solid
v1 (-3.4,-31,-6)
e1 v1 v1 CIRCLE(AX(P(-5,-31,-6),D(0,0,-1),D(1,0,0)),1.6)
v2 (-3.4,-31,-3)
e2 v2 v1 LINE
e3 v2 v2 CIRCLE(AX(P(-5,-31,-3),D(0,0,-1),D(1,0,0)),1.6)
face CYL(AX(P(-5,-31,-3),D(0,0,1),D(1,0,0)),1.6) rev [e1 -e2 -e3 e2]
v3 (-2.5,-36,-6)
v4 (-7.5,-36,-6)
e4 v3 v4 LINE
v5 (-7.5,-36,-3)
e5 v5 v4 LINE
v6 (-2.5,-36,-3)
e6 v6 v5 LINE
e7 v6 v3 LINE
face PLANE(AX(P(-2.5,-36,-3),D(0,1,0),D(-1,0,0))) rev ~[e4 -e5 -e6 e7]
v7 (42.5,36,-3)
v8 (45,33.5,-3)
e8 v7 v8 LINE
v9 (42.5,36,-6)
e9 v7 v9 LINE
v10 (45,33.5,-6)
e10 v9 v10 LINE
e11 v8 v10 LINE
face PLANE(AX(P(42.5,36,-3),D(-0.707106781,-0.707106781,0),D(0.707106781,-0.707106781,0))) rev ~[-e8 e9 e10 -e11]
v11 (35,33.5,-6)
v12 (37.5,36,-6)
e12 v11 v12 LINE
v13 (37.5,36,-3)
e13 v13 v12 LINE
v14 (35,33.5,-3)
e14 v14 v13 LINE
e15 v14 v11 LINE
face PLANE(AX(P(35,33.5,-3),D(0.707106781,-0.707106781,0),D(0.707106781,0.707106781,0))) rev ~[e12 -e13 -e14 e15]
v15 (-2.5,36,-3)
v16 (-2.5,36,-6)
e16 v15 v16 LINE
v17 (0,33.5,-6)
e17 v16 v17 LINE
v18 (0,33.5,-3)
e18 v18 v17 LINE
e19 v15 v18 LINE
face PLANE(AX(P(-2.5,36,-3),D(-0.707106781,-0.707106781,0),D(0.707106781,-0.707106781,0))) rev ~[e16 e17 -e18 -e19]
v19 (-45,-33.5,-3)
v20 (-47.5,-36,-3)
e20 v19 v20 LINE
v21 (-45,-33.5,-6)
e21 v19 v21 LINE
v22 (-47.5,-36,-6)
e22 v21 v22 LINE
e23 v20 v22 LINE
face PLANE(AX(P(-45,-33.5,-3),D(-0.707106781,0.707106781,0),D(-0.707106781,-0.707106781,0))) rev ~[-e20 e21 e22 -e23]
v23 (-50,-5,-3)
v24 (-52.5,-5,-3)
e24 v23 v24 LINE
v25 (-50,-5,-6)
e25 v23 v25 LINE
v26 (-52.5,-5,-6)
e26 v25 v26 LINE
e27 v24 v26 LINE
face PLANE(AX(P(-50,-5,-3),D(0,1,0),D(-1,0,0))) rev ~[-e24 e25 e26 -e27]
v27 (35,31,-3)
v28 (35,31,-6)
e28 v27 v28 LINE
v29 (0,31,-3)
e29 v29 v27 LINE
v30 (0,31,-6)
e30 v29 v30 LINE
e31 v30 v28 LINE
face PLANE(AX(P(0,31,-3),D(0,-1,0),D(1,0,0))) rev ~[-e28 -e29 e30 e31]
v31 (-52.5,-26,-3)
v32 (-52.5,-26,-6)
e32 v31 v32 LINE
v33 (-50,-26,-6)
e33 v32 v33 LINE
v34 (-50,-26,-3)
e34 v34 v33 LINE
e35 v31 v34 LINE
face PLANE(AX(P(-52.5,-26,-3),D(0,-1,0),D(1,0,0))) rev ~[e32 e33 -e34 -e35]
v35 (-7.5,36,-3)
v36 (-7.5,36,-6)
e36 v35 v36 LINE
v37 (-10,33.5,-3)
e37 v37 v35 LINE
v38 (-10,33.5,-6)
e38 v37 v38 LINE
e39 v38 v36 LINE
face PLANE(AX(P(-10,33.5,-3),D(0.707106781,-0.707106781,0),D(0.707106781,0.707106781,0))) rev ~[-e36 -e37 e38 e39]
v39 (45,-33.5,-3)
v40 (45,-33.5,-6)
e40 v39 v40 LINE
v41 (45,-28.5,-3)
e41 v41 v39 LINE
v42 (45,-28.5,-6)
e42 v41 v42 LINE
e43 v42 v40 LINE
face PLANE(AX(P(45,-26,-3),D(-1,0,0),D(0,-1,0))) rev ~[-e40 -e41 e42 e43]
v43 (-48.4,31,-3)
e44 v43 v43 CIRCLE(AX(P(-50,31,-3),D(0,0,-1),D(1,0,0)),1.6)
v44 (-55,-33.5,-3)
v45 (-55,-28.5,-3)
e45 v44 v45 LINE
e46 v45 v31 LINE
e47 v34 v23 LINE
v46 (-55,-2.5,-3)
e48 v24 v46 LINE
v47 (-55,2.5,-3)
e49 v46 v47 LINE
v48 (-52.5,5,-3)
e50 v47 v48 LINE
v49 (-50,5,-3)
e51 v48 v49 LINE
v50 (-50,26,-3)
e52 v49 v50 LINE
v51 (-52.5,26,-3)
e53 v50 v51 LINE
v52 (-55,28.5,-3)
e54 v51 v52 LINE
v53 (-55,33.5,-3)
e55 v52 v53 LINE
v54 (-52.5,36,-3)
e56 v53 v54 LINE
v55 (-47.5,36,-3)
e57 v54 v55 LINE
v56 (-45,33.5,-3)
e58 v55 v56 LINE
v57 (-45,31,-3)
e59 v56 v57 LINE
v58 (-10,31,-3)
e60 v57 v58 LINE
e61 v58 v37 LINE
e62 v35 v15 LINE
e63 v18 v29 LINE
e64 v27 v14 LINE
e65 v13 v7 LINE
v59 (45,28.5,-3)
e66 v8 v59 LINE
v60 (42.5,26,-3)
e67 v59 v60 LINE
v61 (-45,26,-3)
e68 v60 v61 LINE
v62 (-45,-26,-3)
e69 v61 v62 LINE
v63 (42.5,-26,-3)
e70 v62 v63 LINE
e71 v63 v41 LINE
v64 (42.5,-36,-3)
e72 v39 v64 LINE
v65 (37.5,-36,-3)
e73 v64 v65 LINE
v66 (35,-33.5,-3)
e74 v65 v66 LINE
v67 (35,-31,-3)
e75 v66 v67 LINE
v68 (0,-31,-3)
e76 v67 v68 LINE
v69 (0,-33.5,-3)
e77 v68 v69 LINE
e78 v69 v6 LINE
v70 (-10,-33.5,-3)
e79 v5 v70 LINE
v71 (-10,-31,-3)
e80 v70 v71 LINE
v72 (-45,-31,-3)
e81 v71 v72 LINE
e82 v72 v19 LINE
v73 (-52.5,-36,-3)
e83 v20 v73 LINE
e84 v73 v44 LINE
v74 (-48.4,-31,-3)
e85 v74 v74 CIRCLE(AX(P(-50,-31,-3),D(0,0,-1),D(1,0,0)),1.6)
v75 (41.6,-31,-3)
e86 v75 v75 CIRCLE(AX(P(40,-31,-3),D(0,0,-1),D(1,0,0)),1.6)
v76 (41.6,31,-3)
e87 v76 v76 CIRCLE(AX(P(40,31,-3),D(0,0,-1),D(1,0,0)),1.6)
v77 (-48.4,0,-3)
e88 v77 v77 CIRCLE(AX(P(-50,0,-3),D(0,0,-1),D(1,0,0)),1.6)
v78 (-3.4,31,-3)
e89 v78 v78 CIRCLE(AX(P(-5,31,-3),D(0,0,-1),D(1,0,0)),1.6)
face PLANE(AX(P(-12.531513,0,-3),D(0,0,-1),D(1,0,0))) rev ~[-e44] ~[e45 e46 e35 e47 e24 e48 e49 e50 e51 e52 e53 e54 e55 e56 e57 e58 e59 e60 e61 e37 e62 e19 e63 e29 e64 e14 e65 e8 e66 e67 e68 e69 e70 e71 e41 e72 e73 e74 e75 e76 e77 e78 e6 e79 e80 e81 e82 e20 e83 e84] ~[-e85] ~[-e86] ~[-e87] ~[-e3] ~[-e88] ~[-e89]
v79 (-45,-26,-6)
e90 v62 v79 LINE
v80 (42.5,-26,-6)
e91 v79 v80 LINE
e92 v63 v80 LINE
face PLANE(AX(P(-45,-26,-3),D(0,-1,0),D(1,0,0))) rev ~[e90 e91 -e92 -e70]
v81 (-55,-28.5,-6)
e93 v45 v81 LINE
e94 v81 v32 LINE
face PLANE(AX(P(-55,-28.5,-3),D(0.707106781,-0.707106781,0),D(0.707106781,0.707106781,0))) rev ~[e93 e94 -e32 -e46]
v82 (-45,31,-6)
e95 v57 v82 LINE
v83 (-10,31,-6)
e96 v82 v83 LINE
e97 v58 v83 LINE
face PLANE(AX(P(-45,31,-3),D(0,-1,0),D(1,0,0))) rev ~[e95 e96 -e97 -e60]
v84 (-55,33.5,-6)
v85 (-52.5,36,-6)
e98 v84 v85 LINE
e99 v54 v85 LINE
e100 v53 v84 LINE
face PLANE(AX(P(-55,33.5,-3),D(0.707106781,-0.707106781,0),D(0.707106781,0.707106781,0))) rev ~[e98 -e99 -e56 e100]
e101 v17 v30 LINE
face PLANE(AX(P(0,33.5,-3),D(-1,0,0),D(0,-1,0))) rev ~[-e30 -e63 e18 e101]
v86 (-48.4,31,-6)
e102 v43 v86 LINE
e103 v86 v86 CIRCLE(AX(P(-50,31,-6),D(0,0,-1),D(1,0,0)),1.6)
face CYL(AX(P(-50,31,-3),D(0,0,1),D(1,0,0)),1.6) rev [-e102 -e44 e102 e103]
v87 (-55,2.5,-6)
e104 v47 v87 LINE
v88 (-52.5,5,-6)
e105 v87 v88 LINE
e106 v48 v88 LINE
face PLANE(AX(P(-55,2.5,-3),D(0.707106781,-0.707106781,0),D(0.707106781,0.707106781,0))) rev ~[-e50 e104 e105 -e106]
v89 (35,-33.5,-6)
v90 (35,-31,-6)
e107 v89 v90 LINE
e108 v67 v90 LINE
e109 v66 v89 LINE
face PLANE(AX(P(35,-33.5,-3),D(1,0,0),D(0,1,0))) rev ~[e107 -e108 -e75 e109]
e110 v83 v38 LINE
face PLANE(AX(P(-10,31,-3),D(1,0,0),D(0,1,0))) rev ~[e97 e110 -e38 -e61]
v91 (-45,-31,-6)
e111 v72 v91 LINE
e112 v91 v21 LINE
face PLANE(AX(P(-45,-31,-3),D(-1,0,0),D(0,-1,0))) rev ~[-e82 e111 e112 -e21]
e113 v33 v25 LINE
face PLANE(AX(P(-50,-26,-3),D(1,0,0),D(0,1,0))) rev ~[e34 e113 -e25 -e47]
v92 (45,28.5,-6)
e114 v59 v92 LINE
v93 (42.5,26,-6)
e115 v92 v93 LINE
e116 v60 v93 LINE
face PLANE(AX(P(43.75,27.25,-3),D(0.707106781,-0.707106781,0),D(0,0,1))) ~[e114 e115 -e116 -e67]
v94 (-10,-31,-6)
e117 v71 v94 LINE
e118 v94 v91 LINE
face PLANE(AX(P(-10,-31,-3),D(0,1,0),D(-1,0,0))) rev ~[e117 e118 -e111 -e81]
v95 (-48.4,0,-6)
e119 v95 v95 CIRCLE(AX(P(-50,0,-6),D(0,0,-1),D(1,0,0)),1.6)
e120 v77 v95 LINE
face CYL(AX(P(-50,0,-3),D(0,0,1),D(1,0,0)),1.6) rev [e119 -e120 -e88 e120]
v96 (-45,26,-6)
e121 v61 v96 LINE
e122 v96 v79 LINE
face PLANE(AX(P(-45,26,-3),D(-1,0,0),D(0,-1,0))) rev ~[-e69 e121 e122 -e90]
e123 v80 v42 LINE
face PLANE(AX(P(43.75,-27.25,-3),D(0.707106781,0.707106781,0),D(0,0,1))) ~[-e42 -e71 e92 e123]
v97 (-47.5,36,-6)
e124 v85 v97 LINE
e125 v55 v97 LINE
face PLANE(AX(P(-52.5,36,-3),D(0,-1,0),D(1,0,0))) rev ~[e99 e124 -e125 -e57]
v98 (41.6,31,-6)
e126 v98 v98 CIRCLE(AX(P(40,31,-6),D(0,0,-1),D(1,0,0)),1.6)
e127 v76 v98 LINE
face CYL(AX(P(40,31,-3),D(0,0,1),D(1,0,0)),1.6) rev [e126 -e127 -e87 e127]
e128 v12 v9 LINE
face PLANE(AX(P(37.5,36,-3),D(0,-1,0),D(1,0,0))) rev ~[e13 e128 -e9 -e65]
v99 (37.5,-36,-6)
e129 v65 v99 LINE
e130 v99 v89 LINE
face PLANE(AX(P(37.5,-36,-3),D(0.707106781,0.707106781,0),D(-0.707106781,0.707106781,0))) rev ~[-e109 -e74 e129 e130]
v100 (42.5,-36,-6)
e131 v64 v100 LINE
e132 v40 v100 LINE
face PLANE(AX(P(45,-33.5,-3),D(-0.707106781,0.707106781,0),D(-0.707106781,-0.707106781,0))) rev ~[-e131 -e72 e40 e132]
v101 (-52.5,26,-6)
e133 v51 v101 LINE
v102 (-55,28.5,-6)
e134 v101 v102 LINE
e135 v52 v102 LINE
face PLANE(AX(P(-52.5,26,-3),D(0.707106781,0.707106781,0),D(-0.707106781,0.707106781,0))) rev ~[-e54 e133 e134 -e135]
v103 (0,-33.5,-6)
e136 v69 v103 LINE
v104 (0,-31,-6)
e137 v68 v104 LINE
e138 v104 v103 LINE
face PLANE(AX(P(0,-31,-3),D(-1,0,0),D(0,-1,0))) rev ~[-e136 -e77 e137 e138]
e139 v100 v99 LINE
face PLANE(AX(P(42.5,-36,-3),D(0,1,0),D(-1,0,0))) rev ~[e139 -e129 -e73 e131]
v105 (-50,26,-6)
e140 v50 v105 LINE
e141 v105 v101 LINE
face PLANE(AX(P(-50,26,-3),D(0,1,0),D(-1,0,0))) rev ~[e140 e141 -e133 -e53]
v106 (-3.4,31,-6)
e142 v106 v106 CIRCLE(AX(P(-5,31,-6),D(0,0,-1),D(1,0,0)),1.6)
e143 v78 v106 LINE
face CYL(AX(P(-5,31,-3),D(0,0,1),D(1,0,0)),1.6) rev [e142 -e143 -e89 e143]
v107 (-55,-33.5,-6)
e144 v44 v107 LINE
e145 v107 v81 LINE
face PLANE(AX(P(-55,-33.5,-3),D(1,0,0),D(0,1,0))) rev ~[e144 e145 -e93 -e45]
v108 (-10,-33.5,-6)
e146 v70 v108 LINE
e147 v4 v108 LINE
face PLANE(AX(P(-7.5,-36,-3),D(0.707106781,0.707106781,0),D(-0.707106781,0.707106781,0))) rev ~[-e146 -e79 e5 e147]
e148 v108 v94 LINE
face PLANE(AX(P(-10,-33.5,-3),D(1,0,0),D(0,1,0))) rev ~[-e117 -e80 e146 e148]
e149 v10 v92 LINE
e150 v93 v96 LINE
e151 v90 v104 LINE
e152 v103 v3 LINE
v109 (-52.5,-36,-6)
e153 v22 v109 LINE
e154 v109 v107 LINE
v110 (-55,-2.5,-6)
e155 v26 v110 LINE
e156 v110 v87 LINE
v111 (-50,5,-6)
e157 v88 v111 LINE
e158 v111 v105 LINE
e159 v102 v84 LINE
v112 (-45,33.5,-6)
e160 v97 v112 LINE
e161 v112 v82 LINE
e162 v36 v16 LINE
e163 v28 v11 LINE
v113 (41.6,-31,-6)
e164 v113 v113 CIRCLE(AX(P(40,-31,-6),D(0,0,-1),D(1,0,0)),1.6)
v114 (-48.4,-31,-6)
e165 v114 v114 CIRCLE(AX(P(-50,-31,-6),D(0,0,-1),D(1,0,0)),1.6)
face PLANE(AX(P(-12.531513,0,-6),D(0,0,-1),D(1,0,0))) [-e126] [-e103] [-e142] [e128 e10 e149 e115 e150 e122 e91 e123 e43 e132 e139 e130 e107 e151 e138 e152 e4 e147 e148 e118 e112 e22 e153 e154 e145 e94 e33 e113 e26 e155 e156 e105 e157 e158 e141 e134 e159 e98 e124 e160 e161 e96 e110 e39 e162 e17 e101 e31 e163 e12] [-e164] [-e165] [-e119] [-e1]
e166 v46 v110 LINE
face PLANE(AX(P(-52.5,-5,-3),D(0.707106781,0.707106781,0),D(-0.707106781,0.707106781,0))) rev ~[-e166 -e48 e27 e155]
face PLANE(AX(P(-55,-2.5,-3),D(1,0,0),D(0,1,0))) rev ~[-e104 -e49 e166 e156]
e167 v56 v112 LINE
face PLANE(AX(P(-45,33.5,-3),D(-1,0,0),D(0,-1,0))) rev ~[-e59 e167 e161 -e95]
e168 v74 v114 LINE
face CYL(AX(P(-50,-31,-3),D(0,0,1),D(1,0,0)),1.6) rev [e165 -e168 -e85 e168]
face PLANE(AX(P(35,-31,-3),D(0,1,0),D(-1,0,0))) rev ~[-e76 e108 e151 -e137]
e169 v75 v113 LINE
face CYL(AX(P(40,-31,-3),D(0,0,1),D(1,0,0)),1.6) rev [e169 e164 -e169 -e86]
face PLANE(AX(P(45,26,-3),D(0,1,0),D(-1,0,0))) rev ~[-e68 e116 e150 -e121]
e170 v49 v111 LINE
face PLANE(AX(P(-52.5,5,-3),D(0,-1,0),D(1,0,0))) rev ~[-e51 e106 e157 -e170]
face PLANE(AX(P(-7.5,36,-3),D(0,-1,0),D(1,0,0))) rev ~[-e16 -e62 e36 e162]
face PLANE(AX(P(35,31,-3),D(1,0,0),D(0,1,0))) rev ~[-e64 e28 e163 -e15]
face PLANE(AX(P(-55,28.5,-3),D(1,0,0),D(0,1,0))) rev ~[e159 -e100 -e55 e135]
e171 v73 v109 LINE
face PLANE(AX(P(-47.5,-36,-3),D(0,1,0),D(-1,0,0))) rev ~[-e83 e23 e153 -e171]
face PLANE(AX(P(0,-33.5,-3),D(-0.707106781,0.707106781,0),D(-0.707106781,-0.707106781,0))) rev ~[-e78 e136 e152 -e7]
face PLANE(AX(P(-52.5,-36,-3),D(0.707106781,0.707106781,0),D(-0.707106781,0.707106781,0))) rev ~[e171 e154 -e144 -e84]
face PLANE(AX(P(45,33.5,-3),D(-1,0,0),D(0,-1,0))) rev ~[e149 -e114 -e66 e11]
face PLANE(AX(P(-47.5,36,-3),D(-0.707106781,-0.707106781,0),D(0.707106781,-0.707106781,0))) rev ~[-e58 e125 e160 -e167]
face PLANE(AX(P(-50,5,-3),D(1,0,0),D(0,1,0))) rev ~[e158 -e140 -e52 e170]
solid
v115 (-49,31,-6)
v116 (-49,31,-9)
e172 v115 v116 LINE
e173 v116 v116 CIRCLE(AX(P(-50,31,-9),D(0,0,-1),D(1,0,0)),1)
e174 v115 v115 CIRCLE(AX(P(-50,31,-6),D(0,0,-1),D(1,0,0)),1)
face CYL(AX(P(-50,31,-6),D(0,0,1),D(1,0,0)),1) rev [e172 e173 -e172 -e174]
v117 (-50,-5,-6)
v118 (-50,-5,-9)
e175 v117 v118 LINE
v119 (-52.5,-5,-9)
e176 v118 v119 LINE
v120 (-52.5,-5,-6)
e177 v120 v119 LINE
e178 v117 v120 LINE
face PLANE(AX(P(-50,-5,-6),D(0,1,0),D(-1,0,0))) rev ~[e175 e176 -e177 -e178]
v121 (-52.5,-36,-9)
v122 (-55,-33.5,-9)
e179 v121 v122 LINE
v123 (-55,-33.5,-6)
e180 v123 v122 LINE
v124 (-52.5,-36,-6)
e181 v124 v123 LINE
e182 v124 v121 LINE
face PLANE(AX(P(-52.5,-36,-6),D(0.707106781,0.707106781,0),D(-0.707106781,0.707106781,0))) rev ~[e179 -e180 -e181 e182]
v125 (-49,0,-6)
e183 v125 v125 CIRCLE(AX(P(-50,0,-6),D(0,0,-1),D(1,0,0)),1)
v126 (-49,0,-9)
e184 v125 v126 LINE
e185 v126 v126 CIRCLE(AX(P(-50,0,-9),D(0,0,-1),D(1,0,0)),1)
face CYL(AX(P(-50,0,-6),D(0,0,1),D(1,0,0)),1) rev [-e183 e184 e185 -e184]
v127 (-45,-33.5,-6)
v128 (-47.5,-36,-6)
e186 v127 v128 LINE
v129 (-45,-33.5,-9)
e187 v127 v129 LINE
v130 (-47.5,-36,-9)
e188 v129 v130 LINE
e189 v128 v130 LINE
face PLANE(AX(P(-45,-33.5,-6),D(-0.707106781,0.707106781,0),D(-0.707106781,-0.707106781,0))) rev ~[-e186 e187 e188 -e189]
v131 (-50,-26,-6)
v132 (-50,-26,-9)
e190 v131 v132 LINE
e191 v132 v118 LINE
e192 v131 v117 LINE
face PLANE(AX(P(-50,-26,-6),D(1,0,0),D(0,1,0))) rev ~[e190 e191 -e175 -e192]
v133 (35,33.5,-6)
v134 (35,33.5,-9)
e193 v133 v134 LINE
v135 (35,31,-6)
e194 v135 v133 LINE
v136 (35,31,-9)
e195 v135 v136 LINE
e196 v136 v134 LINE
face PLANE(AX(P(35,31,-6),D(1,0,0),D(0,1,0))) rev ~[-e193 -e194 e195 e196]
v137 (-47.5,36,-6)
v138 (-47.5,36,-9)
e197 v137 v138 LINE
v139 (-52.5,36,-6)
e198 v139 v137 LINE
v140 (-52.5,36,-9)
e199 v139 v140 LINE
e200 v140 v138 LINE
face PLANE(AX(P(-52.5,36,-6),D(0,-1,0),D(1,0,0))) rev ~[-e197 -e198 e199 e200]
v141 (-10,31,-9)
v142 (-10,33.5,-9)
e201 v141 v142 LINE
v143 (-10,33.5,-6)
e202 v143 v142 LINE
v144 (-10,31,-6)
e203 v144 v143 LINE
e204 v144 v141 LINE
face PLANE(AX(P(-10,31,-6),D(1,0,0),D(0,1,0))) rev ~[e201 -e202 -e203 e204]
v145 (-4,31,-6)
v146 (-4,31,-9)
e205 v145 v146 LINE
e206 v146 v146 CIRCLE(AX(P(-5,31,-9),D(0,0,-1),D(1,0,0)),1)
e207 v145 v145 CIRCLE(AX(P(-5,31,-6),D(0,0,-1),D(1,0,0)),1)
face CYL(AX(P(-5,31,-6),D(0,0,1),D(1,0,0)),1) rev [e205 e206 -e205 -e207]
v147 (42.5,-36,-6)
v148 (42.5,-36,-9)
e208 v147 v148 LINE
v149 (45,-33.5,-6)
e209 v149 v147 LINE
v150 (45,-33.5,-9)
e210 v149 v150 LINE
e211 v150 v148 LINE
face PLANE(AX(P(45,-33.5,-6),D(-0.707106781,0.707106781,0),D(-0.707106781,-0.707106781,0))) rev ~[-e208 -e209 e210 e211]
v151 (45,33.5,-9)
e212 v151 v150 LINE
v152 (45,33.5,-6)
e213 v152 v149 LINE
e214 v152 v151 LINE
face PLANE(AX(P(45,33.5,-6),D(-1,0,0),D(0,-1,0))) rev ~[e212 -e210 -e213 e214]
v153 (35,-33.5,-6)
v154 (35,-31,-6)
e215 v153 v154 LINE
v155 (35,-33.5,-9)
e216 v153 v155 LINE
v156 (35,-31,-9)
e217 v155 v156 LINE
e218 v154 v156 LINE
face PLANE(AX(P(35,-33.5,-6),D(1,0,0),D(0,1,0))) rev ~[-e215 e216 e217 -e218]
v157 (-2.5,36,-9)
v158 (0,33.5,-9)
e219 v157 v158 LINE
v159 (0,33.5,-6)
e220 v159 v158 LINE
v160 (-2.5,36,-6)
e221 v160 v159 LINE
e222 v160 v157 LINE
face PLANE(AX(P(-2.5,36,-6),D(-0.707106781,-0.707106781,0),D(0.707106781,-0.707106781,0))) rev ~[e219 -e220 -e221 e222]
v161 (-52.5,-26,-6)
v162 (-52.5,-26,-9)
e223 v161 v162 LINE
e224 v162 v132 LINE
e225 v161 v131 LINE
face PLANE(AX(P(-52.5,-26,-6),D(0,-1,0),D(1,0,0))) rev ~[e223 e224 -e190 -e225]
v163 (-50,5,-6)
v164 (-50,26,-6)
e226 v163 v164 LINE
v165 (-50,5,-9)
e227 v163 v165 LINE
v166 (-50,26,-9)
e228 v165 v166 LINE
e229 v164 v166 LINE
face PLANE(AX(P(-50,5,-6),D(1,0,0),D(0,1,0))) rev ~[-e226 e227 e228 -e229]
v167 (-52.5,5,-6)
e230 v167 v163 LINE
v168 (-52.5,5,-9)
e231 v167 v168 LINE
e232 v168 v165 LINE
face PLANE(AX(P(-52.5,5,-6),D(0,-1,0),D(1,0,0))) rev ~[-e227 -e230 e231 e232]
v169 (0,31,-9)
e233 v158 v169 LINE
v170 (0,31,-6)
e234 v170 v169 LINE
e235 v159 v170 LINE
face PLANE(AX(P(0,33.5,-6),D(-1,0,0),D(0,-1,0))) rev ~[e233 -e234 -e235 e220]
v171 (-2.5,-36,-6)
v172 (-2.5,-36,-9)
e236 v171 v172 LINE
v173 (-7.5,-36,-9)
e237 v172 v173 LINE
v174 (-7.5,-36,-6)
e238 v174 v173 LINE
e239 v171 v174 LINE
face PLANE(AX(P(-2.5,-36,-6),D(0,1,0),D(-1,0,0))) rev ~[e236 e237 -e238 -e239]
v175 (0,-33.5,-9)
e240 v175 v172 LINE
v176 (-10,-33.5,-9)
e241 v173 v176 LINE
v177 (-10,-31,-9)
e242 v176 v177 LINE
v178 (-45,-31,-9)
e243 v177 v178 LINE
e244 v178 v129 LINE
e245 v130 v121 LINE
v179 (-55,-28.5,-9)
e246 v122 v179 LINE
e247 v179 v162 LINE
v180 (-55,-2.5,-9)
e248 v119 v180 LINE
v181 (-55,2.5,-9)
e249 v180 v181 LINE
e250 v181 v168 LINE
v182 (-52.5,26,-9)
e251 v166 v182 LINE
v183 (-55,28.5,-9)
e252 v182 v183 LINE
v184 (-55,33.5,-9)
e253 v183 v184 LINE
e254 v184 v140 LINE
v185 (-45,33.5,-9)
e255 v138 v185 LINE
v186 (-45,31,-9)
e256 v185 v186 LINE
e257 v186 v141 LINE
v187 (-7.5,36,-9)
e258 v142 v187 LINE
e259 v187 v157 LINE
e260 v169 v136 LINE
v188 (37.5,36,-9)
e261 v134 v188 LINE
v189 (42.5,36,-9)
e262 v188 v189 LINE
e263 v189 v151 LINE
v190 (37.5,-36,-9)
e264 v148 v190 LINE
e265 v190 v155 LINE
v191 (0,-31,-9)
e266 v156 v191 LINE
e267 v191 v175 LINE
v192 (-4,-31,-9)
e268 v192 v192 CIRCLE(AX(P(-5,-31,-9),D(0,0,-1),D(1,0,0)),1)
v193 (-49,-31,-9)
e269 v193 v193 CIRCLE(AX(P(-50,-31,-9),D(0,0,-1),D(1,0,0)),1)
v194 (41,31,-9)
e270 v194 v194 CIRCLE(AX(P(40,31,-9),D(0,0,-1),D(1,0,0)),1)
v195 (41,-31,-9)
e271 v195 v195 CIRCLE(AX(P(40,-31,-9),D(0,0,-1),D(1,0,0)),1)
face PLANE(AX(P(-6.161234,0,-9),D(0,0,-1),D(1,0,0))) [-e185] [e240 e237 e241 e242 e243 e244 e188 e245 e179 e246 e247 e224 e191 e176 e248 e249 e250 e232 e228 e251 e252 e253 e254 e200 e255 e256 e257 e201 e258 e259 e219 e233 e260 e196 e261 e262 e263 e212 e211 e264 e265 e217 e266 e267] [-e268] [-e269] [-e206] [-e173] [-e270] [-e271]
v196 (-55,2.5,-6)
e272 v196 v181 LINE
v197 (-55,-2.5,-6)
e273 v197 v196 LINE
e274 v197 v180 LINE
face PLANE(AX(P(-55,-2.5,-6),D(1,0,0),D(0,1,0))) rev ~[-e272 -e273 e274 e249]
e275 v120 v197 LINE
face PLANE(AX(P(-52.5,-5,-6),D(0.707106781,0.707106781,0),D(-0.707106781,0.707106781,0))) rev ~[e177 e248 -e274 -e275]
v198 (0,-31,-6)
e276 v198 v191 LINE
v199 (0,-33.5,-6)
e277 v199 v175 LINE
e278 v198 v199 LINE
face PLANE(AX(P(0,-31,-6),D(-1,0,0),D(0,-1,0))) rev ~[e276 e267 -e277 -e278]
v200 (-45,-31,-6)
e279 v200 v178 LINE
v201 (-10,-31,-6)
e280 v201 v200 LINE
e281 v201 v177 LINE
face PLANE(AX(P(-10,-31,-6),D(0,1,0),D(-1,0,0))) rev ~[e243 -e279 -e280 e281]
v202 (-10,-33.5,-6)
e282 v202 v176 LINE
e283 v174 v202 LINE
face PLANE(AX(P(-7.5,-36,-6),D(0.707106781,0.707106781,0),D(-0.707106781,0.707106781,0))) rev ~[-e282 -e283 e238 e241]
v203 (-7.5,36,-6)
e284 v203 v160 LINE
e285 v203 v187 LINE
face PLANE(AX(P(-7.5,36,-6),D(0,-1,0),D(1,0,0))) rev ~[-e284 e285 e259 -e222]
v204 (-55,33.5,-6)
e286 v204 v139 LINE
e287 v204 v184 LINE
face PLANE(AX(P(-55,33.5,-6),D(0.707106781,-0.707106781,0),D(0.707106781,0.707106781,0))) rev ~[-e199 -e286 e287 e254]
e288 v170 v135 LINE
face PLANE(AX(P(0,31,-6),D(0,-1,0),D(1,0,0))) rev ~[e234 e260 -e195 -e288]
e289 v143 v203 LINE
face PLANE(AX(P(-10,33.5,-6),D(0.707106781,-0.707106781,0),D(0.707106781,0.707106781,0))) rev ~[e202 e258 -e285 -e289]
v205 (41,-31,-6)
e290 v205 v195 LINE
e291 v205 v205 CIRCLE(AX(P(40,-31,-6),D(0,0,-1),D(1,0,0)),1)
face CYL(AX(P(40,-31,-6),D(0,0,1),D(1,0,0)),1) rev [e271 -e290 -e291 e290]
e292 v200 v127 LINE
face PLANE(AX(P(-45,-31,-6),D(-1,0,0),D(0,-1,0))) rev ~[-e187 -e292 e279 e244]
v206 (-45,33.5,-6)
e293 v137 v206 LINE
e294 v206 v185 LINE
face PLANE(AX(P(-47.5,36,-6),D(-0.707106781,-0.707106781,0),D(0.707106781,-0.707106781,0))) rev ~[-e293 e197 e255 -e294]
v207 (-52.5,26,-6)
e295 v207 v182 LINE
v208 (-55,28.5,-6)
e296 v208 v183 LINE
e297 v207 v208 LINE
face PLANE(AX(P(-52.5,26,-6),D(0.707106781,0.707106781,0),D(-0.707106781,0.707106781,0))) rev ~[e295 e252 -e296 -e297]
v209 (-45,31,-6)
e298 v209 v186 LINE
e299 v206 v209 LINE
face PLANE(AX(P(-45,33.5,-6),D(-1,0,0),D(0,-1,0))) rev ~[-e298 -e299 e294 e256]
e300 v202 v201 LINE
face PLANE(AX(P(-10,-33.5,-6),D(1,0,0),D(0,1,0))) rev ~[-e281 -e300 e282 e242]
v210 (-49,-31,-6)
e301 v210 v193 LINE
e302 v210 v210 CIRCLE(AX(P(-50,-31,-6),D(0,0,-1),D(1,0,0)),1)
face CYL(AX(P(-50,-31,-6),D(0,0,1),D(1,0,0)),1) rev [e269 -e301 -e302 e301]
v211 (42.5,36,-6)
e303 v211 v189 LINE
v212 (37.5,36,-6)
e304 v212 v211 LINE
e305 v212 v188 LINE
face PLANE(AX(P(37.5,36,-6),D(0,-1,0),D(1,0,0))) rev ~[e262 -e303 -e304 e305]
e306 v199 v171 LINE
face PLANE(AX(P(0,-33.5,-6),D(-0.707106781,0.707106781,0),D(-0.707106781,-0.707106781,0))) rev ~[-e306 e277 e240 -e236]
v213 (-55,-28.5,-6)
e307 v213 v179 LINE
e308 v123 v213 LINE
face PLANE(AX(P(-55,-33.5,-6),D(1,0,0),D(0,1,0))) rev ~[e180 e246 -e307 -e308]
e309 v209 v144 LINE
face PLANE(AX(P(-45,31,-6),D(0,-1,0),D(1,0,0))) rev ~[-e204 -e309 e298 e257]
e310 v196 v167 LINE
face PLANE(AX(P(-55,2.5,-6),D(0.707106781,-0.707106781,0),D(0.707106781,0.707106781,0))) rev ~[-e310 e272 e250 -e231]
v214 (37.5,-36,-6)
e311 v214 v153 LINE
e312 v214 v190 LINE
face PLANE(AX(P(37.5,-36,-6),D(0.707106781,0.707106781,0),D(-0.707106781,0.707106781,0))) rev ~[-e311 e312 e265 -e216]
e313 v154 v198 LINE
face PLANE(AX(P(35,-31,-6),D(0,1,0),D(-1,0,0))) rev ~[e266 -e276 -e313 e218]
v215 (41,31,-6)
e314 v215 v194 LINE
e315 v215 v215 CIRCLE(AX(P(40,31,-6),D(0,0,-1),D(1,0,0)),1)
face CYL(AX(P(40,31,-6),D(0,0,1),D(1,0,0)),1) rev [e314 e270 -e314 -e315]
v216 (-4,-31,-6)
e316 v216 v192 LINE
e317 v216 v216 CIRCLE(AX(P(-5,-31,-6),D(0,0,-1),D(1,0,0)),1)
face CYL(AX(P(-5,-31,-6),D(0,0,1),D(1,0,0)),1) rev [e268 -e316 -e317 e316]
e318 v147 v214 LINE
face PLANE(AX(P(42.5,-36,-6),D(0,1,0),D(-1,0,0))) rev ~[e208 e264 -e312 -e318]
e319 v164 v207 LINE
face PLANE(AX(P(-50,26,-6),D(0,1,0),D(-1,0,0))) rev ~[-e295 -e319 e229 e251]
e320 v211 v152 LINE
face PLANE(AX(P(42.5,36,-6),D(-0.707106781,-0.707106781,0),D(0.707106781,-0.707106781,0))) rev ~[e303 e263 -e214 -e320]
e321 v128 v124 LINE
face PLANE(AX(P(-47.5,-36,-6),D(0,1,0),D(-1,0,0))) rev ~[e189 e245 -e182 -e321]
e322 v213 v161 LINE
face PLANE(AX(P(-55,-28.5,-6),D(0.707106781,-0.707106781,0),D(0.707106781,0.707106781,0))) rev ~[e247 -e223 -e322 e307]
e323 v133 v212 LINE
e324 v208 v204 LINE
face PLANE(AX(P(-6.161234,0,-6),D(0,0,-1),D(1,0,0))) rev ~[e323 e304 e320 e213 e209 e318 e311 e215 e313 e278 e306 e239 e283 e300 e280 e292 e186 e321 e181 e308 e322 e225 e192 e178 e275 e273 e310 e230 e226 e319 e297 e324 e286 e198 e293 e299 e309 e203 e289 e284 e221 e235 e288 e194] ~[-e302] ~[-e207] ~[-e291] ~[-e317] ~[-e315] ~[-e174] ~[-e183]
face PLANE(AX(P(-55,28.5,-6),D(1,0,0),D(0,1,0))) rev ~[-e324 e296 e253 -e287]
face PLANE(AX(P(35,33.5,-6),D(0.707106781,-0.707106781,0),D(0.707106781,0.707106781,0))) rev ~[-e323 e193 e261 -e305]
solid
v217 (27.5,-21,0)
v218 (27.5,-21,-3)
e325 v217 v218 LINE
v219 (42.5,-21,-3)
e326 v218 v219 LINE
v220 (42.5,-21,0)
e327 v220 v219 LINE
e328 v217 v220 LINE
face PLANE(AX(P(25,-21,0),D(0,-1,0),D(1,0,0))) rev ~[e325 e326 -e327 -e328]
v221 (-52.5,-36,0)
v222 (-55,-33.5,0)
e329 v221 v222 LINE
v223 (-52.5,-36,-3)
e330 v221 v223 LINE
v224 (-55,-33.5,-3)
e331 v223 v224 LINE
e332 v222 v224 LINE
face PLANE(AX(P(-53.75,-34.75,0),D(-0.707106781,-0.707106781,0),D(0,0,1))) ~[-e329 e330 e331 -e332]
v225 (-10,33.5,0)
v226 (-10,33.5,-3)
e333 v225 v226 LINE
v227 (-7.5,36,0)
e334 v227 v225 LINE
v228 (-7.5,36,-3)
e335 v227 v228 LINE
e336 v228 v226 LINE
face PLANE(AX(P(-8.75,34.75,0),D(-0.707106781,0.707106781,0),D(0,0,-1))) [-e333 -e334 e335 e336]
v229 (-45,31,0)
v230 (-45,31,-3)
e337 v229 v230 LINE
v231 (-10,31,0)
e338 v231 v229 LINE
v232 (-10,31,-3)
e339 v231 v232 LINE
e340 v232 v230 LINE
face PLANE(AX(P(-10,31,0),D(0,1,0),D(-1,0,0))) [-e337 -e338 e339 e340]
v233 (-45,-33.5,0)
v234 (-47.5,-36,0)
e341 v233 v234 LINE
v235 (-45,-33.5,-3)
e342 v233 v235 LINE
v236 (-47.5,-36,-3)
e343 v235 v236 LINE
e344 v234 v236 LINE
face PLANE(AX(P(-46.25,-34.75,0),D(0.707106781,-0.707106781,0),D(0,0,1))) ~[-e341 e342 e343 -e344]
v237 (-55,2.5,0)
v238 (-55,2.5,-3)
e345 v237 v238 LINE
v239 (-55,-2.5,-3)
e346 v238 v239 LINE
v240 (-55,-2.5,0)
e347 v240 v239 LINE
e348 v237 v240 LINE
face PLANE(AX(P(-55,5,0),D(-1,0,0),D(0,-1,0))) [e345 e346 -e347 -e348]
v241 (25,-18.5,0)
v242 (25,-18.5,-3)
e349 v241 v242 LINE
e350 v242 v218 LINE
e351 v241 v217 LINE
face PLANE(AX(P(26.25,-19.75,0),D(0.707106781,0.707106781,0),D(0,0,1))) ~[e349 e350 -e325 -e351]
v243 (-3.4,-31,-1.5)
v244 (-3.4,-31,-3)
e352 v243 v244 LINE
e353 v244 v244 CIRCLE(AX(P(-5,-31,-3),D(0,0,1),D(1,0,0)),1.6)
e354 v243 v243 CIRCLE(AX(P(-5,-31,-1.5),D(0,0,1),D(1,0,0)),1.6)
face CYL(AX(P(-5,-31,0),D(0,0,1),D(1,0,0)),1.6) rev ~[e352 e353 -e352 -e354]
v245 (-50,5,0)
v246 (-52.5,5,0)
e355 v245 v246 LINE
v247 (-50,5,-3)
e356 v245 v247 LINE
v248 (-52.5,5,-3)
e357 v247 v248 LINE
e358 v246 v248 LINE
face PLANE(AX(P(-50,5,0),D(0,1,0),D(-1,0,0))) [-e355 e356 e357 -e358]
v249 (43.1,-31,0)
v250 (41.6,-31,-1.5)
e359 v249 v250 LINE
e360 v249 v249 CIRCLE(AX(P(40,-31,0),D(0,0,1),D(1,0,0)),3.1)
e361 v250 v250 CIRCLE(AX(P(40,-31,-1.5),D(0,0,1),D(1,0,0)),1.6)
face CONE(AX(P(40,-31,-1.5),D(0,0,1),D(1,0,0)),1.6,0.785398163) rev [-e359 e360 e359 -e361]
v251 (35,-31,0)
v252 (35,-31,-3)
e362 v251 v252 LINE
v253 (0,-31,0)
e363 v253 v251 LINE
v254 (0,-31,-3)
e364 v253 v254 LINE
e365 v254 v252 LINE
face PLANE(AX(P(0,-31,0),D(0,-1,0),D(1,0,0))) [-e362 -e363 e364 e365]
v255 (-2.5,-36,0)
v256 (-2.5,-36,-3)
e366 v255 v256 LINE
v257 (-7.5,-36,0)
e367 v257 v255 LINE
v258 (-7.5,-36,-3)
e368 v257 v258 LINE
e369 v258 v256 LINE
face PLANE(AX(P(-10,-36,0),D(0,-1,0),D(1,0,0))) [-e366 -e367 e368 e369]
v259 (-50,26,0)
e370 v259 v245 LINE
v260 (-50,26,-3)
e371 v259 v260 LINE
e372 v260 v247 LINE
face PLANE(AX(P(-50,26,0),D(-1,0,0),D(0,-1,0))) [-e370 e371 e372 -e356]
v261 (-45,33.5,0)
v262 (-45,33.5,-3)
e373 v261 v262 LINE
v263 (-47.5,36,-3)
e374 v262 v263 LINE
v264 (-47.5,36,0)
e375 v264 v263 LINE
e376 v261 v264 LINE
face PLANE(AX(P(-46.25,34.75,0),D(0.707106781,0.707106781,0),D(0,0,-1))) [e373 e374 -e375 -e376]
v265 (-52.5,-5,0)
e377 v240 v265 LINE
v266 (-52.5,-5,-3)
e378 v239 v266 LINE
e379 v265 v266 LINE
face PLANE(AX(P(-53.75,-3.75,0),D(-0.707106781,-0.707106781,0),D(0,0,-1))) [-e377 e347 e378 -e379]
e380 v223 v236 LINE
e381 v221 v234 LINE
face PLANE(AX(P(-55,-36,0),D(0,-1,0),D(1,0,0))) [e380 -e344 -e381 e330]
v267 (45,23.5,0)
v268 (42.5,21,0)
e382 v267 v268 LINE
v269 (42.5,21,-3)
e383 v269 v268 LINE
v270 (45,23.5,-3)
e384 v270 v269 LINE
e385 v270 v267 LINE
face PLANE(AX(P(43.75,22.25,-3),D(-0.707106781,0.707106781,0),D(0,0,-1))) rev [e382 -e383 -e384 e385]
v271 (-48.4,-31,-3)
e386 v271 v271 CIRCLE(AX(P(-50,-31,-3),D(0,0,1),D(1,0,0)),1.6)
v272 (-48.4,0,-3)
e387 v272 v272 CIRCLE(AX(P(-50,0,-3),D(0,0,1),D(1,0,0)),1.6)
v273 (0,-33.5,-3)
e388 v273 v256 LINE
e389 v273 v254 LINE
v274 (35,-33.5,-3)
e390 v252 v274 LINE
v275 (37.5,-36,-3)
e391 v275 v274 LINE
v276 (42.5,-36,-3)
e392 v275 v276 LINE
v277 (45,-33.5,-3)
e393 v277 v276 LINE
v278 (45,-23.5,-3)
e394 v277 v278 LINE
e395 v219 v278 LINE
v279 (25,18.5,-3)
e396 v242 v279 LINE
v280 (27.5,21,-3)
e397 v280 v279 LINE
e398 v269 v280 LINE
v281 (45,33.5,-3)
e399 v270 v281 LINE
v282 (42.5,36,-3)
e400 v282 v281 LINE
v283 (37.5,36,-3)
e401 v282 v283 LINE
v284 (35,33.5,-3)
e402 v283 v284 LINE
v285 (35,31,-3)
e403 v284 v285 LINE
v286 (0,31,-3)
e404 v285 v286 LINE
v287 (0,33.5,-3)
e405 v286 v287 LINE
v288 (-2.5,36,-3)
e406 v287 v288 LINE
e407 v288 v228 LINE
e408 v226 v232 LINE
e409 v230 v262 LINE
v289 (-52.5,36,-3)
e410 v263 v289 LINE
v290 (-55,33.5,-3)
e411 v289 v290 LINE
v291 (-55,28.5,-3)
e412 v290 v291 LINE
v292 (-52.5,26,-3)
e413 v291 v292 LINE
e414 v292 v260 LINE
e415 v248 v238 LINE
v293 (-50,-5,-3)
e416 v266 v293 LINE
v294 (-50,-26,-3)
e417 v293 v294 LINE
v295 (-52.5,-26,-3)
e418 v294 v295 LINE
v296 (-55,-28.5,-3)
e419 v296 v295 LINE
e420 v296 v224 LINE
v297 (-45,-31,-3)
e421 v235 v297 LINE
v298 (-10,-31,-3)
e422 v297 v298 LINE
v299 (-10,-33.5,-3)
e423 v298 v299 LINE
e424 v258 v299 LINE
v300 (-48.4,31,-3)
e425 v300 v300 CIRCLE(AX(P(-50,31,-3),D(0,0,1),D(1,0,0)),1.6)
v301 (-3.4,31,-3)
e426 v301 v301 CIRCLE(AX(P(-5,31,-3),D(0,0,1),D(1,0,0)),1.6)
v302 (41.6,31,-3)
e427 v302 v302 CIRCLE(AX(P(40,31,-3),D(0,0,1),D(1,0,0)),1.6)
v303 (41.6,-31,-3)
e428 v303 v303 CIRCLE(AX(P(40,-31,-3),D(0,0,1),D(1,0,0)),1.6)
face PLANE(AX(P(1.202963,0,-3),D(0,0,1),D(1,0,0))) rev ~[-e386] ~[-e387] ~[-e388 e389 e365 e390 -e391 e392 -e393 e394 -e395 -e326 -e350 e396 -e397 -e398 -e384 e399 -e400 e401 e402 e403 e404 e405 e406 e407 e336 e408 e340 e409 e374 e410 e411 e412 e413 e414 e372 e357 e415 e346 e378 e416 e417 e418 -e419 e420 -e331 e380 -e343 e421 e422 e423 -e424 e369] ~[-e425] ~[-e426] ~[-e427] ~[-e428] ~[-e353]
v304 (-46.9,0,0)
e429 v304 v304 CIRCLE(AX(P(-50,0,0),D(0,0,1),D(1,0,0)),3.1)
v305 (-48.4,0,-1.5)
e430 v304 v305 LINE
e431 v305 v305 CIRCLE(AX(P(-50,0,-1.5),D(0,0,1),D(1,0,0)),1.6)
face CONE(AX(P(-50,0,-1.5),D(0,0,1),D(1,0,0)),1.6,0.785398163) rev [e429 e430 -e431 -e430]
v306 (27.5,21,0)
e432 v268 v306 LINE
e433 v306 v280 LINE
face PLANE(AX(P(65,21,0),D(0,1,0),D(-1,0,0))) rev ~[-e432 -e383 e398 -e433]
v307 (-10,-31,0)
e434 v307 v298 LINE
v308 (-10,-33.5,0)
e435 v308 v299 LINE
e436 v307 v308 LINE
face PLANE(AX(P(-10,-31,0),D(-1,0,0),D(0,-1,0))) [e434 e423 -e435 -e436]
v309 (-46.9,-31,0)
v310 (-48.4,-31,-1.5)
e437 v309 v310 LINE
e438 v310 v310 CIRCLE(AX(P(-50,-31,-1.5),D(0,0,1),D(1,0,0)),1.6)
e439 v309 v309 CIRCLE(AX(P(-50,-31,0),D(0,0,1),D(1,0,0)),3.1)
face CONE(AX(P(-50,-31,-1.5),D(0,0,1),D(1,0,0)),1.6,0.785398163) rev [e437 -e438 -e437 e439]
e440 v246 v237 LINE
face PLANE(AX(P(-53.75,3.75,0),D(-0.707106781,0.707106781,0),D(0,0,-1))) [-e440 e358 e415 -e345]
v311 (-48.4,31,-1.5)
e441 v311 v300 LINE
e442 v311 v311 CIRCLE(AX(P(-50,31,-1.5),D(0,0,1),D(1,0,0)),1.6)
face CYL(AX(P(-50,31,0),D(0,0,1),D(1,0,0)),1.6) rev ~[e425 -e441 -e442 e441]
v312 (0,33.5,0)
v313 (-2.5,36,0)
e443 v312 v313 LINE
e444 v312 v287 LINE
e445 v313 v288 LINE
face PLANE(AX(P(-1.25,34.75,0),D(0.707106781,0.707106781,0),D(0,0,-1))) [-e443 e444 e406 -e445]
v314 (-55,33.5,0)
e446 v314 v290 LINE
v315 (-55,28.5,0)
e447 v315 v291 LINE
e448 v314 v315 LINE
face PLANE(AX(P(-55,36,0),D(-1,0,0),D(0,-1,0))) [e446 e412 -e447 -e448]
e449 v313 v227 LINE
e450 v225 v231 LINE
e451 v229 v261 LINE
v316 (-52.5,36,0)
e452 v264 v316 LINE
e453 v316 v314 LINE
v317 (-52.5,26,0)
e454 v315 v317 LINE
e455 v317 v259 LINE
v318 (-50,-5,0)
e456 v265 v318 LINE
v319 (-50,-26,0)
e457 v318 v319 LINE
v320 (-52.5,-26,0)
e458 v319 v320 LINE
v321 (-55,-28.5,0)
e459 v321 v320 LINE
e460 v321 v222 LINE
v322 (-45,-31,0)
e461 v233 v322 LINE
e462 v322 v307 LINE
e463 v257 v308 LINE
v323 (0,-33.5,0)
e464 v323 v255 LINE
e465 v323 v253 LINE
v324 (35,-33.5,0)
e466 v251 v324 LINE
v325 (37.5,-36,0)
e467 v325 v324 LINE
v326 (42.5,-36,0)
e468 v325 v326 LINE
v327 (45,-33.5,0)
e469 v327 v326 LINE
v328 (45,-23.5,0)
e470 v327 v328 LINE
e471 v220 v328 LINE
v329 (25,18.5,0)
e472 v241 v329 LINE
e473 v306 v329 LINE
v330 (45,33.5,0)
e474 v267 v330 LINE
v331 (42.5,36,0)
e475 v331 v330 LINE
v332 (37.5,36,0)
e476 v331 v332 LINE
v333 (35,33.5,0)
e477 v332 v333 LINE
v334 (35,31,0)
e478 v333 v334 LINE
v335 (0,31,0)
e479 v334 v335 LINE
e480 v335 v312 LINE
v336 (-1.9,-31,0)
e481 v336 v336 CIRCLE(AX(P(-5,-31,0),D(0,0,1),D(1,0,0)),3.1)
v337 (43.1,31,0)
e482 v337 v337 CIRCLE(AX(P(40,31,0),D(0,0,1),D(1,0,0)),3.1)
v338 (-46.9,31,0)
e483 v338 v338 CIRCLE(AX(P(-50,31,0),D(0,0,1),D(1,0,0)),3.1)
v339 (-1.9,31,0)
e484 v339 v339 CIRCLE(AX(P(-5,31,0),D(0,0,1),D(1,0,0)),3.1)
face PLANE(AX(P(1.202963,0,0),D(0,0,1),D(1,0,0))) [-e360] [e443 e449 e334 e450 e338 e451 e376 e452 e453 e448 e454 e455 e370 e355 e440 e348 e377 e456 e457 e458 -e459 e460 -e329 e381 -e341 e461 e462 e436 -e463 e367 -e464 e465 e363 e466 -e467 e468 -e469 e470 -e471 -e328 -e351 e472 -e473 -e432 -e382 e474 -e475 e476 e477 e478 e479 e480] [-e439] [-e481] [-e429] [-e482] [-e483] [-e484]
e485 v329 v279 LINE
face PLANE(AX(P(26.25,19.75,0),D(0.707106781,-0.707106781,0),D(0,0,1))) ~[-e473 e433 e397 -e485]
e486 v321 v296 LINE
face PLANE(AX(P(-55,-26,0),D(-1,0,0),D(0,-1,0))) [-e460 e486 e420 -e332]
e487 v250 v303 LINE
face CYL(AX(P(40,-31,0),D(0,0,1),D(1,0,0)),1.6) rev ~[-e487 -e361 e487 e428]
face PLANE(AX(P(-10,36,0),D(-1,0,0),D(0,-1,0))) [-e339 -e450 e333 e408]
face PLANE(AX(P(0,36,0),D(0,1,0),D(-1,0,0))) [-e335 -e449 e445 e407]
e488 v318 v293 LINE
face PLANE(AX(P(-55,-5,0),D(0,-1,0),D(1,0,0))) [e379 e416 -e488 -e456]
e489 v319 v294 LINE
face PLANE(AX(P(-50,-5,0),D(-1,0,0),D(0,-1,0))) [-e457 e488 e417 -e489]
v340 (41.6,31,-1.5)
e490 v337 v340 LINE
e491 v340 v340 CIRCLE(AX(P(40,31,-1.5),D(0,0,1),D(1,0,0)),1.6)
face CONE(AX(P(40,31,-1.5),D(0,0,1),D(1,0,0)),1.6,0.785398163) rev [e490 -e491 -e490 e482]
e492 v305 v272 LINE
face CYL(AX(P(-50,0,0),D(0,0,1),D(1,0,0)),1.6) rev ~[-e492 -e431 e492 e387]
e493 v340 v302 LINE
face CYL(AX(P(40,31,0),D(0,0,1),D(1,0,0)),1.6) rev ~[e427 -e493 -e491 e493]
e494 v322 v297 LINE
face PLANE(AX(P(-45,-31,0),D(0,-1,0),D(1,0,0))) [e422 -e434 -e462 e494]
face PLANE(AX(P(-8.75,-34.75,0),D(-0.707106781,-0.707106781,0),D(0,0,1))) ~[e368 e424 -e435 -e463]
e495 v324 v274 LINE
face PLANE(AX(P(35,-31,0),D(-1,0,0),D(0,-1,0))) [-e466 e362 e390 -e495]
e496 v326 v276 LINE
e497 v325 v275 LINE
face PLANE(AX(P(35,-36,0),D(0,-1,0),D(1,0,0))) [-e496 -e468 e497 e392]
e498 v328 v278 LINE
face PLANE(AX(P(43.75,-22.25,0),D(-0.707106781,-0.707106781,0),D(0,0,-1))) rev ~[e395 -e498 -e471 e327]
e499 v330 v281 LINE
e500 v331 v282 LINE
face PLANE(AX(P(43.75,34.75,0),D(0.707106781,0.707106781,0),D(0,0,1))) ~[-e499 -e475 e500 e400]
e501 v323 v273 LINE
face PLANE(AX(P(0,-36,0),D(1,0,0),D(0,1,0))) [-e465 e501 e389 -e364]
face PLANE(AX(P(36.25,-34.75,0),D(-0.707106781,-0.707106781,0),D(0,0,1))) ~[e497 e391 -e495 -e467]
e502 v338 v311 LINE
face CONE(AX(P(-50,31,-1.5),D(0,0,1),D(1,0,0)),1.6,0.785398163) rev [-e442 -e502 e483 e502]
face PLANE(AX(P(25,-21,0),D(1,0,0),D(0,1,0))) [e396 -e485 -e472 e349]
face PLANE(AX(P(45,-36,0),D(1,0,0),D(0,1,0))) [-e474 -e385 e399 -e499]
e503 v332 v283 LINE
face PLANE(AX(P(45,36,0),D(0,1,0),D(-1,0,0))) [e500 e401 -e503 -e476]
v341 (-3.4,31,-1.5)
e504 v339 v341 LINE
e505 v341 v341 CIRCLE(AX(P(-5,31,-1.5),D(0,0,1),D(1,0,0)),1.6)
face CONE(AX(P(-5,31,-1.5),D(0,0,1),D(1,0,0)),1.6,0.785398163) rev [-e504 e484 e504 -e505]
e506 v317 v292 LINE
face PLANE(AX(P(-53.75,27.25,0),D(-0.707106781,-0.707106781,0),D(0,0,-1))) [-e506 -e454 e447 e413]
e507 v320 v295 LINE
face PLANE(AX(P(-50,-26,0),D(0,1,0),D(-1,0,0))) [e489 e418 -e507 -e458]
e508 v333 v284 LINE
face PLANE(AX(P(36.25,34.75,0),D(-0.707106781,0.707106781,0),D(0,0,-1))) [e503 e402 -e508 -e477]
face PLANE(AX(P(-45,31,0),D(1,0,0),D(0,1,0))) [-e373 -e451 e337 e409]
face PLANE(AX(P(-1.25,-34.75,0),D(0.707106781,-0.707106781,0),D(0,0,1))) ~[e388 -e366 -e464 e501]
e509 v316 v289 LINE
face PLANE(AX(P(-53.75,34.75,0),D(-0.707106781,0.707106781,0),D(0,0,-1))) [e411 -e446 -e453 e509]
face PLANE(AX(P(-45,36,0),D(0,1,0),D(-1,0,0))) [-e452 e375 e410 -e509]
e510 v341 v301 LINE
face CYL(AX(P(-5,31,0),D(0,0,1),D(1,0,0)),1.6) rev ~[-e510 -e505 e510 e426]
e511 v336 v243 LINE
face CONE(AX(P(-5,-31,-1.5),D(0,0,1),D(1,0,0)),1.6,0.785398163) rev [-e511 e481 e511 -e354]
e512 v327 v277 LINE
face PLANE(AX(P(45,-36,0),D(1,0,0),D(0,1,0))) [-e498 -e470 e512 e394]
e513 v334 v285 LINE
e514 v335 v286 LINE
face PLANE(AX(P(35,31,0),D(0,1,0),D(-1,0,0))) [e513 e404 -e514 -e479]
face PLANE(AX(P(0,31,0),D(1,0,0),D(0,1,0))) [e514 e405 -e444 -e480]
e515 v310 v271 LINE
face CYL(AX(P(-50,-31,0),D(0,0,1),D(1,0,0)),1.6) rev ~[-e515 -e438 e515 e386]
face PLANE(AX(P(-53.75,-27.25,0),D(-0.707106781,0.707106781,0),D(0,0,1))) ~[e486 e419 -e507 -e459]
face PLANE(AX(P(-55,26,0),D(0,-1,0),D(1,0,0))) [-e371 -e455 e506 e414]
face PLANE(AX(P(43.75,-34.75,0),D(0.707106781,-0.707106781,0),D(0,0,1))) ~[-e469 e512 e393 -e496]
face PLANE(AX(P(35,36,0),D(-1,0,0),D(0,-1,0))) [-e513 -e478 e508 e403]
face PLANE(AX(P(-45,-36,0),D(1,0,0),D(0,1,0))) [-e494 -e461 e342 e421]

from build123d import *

# Parameters (mm, degrees)
F0_R      = 1.6
F1_DEPTH  = 3
F2_SIZE   = 2.5
F3_R      = 1.6
F4_DEPTH  = 3
F5_R      = 1
F6_DEPTH  = 3
F7_W      = 20
F7_H      = 42
F8_DEPTH  = 4
F9_SIZE   = 2.5
F9_2_SIZE = 2.5
F10_SIZE  = 1.5


with BuildPart() as f1:
    # F0 (on Top) → F1 (new body)
    with BuildSketch(Plane.XY):
        with BuildLine():
            Line((-37, -26), (45, -26))
            Line((45, -26), (45, 26))
            Line((45, 26), (-37, 26))
            ThreePointArc((-37, 26), (-42.6568542495, 23.6568542495), (-45, 18))
            Line((-45, 18), (-45, -18))
            ThreePointArc((-45, -18), (-42.6568542495, -23.6568542495), (-37, -26))
        make_face()
        with BuildLine():
            Line((45, -36), (45, -26))
            Line((45, -26), (-37, -26))
            ThreePointArc((-37, -26), (-42.6568542495, -23.6568542495), (-45, -18))
            Line((-45, -18), (-45, 18))
            ThreePointArc((-45, 18), (-42.6568542495, 23.6568542495), (-37, 26))
            Line((-37, 26), (45, 26))
            Line((45, 26), (45, 36))
            Line((45, 36), (35, 36))
            Line((35, 36), (35, 31))
            Line((35, 31), (0, 31))
            Line((0, 31), (0, 36))
            Line((0, 36), (-10, 36))
            Line((-10, 36), (-10, 31))
            Line((-10, 31), (-45, 31))
            Line((-45, 31), (-45, 36))
            Line((-45, 36), (-55, 36))
            Line((-55, 36), (-55, 26))
            Line((-55, 26), (-50, 26))
            Line((-50, 26), (-50, 5))
            Line((-50, 5), (-55, 5))
            Line((-55, 5), (-55, -5))
            Line((-55, -5), (-50, -5))
            Line((-50, -5), (-50, -26))
            Line((-50, -26), (-55, -26))
            Line((-55, -26), (-55, -36))
            Line((-55, -36), (-45, -36))
            Line((-45, -36), (-45, -31))
            Line((-45, -31), (-10, -31))
            Line((-10, -31), (-10, -36))
            Line((-10, -36), (0, -36))
            Line((0, -36), (0, -31))
            Line((0, -31), (35, -31))
            Line((35, -31), (35, -36))
            Line((35, -36), (45, -36))
        make_face()
        with Locations((-50, -31)):
            Circle(F0_R, mode=Mode.SUBTRACT)
        with Locations((-5, -31)):
            Circle(F0_R, mode=Mode.SUBTRACT)
        with Locations((40, -31)):
            Circle(F0_R, mode=Mode.SUBTRACT)
        with Locations((-50, 0)):
            Circle(F0_R, mode=Mode.SUBTRACT)
        with Locations((-50, 31)):
            Circle(F0_R, mode=Mode.SUBTRACT)
        with Locations((-5, 31)):
            Circle(F0_R, mode=Mode.SUBTRACT)
        with Locations((40, 31)):
            Circle(F0_R, mode=Mode.SUBTRACT)
    extrude(amount=-F1_DEPTH)

    # F2
    f2_edges = [f1.edges().sort_by_distance(p)[0] for p in [
        (45, -36, -1.5),
        (35, -36, -1.5),
        (0, -36, -1.5),
        (-10, -36, -1.5),
        (-45, -36, -1.5),
        (-55, -36, -1.5),
        (-55, -5, -1.5),
        (-55, 26, -1.5),
        (-55, -26, -1.5),
        (-55, 5, -1.5),
        (-55, 36, -1.5),
        (-45, 36, -1.5),
        (-10, 36, -1.5),
        (0, 36, -1.5),
        (35, 36, -1.5),
        (45, 36, -1.5),
    ]]
    chamfer(f2_edges, length=F2_SIZE)

    # F7 (on face) → F8 (cut)
    with BuildSketch(Plane.XY):
        with Locations((55, 0)):
            Rectangle(F7_W, F7_H)
        with Locations((35, 0)):
            Rectangle(F7_W, F7_H)
    extrude(amount=-F8_DEPTH, mode=Mode.SUBTRACT)

    # F9
    f9_edges = [f1.edges().sort_by_distance(p)[0] for p in [
        (25, 21, -1.5),
        (45, 21, -1.5),
        (45, -21, -1.5),
        (25, -21, -1.5),
    ]]
    chamfer(f9_edges, length=F9_SIZE)

    # F10
    f10_edges = [f1.edges().sort_by_distance(p)[0] for p in [
        (38.4, 31, 0),
        (-6.6, 31, 0),
        (-51.6, 31, 0),
        (-51.6, 0, 0),
        (-51.6, -31, 0),
        (-6.6, -31, 0),
        (38.4, -31, 0),
    ]]
    chamfer(f10_edges, length=F10_SIZE)


with BuildPart() as f4:
    # F3 (on face) → F4 (new body)
    with BuildSketch(Plane(origin=(0, 0, -3), x_dir=(1, 0, 0), z_dir=(0, 0, -1))):
        Polygon((37.5, -36), (42.5, -36), (45, -33.5), (45, -26), (-45, -26), (-45, 26), (45, 26), (45, 33.5), (42.5, 36), (37.5, 36), (35, 33.5), (35, 31), (0, 31), (0, 33.5), (-2.5, 36), (-7.5, 36), (-10, 33.5), (-10, 31), (-45, 31), (-45, 33.5), (-47.5, 36), (-52.5, 36), (-55, 33.5), (-55, 28.5), (-52.5, 26), (-50, 26), (-50, 5), (-52.5, 5), (-55, 2.5), (-55, -2.5), (-52.5, -5), (-50, -5), (-50, -26), (-52.5, -26), (-55, -28.5), (-55, -33.5), (-52.5, -36), (-47.5, -36), (-45, -33.5), (-45, -31), (-10, -31), (-10, -33.5), (-7.5, -36), (-2.5, -36), (0, -33.5), (0, -31), (35, -31), (35, -33.5), align=None)
        with Locations((-50, -31)):
            Circle(F3_R, mode=Mode.SUBTRACT)
        with Locations((-5, -31)):
            Circle(F3_R, mode=Mode.SUBTRACT)
        with Locations((40, -31)):
            Circle(F3_R, mode=Mode.SUBTRACT)
        with Locations((-50, 0)):
            Circle(F3_R, mode=Mode.SUBTRACT)
        with Locations((-50, 31)):
            Circle(F3_R, mode=Mode.SUBTRACT)
        with Locations((-5, 31)):
            Circle(F3_R, mode=Mode.SUBTRACT)
        with Locations((40, 31)):
            Circle(F3_R, mode=Mode.SUBTRACT)
    extrude(amount=F4_DEPTH)

    # F9#2
    f9_2_edges = [f4.edges().sort_by_distance(p)[0] for p in [
        (45, -26, -4.5),
        (45, 26, -4.5),
    ]]
    chamfer(f9_2_edges, length=F9_2_SIZE)


with BuildPart() as f6:
    # F5 (on face) → F6 (new body)
    with BuildSketch(Plane(origin=(0, 0, -6), x_dir=(1, 0, 0), z_dir=(0, 0, -1))):
        Polygon((45, -33.5), (45, -26), (45, 26), (45, 33.5), (42.5, 36), (37.5, 36), (35, 33.5), (35, 31), (0, 31), (0, 33.5), (-2.5, 36), (-7.5, 36), (-10, 33.5), (-10, 31), (-45, 31), (-45, 33.5), (-47.5, 36), (-52.5, 36), (-55, 33.5), (-55, 28.5), (-52.5, 26), (-50, 26), (-50, 5), (-52.5, 5), (-55, 2.5), (-55, -2.5), (-52.5, -5), (-50, -5), (-50, -26), (-52.5, -26), (-55, -28.5), (-55, -33.5), (-52.5, -36), (-47.5, -36), (-45, -33.5), (-45, -31), (-10, -31), (-10, -33.5), (-7.5, -36), (-2.5, -36), (0, -33.5), (0, -31), (35, -31), (35, -33.5), (37.5, -36), (42.5, -36), align=None)
        with Locations((-50, -31)):
            Circle(F5_R, mode=Mode.SUBTRACT)
        with Locations((-5, -31)):
            Circle(F5_R, mode=Mode.SUBTRACT)
        with Locations((40, -31)):
            Circle(F5_R, mode=Mode.SUBTRACT)
        with Locations((-50, 0)):
            Circle(F5_R, mode=Mode.SUBTRACT)
        with Locations((-50, 31)):
            Circle(F5_R, mode=Mode.SUBTRACT)
        with Locations((-5, 31)):
            Circle(F5_R, mode=Mode.SUBTRACT)
        with Locations((40, 31)):
            Circle(F5_R, mode=Mode.SUBTRACT)
    extrude(amount=F6_DEPTH)


solid = Compound([f1.part, f4.part, f6.part])
